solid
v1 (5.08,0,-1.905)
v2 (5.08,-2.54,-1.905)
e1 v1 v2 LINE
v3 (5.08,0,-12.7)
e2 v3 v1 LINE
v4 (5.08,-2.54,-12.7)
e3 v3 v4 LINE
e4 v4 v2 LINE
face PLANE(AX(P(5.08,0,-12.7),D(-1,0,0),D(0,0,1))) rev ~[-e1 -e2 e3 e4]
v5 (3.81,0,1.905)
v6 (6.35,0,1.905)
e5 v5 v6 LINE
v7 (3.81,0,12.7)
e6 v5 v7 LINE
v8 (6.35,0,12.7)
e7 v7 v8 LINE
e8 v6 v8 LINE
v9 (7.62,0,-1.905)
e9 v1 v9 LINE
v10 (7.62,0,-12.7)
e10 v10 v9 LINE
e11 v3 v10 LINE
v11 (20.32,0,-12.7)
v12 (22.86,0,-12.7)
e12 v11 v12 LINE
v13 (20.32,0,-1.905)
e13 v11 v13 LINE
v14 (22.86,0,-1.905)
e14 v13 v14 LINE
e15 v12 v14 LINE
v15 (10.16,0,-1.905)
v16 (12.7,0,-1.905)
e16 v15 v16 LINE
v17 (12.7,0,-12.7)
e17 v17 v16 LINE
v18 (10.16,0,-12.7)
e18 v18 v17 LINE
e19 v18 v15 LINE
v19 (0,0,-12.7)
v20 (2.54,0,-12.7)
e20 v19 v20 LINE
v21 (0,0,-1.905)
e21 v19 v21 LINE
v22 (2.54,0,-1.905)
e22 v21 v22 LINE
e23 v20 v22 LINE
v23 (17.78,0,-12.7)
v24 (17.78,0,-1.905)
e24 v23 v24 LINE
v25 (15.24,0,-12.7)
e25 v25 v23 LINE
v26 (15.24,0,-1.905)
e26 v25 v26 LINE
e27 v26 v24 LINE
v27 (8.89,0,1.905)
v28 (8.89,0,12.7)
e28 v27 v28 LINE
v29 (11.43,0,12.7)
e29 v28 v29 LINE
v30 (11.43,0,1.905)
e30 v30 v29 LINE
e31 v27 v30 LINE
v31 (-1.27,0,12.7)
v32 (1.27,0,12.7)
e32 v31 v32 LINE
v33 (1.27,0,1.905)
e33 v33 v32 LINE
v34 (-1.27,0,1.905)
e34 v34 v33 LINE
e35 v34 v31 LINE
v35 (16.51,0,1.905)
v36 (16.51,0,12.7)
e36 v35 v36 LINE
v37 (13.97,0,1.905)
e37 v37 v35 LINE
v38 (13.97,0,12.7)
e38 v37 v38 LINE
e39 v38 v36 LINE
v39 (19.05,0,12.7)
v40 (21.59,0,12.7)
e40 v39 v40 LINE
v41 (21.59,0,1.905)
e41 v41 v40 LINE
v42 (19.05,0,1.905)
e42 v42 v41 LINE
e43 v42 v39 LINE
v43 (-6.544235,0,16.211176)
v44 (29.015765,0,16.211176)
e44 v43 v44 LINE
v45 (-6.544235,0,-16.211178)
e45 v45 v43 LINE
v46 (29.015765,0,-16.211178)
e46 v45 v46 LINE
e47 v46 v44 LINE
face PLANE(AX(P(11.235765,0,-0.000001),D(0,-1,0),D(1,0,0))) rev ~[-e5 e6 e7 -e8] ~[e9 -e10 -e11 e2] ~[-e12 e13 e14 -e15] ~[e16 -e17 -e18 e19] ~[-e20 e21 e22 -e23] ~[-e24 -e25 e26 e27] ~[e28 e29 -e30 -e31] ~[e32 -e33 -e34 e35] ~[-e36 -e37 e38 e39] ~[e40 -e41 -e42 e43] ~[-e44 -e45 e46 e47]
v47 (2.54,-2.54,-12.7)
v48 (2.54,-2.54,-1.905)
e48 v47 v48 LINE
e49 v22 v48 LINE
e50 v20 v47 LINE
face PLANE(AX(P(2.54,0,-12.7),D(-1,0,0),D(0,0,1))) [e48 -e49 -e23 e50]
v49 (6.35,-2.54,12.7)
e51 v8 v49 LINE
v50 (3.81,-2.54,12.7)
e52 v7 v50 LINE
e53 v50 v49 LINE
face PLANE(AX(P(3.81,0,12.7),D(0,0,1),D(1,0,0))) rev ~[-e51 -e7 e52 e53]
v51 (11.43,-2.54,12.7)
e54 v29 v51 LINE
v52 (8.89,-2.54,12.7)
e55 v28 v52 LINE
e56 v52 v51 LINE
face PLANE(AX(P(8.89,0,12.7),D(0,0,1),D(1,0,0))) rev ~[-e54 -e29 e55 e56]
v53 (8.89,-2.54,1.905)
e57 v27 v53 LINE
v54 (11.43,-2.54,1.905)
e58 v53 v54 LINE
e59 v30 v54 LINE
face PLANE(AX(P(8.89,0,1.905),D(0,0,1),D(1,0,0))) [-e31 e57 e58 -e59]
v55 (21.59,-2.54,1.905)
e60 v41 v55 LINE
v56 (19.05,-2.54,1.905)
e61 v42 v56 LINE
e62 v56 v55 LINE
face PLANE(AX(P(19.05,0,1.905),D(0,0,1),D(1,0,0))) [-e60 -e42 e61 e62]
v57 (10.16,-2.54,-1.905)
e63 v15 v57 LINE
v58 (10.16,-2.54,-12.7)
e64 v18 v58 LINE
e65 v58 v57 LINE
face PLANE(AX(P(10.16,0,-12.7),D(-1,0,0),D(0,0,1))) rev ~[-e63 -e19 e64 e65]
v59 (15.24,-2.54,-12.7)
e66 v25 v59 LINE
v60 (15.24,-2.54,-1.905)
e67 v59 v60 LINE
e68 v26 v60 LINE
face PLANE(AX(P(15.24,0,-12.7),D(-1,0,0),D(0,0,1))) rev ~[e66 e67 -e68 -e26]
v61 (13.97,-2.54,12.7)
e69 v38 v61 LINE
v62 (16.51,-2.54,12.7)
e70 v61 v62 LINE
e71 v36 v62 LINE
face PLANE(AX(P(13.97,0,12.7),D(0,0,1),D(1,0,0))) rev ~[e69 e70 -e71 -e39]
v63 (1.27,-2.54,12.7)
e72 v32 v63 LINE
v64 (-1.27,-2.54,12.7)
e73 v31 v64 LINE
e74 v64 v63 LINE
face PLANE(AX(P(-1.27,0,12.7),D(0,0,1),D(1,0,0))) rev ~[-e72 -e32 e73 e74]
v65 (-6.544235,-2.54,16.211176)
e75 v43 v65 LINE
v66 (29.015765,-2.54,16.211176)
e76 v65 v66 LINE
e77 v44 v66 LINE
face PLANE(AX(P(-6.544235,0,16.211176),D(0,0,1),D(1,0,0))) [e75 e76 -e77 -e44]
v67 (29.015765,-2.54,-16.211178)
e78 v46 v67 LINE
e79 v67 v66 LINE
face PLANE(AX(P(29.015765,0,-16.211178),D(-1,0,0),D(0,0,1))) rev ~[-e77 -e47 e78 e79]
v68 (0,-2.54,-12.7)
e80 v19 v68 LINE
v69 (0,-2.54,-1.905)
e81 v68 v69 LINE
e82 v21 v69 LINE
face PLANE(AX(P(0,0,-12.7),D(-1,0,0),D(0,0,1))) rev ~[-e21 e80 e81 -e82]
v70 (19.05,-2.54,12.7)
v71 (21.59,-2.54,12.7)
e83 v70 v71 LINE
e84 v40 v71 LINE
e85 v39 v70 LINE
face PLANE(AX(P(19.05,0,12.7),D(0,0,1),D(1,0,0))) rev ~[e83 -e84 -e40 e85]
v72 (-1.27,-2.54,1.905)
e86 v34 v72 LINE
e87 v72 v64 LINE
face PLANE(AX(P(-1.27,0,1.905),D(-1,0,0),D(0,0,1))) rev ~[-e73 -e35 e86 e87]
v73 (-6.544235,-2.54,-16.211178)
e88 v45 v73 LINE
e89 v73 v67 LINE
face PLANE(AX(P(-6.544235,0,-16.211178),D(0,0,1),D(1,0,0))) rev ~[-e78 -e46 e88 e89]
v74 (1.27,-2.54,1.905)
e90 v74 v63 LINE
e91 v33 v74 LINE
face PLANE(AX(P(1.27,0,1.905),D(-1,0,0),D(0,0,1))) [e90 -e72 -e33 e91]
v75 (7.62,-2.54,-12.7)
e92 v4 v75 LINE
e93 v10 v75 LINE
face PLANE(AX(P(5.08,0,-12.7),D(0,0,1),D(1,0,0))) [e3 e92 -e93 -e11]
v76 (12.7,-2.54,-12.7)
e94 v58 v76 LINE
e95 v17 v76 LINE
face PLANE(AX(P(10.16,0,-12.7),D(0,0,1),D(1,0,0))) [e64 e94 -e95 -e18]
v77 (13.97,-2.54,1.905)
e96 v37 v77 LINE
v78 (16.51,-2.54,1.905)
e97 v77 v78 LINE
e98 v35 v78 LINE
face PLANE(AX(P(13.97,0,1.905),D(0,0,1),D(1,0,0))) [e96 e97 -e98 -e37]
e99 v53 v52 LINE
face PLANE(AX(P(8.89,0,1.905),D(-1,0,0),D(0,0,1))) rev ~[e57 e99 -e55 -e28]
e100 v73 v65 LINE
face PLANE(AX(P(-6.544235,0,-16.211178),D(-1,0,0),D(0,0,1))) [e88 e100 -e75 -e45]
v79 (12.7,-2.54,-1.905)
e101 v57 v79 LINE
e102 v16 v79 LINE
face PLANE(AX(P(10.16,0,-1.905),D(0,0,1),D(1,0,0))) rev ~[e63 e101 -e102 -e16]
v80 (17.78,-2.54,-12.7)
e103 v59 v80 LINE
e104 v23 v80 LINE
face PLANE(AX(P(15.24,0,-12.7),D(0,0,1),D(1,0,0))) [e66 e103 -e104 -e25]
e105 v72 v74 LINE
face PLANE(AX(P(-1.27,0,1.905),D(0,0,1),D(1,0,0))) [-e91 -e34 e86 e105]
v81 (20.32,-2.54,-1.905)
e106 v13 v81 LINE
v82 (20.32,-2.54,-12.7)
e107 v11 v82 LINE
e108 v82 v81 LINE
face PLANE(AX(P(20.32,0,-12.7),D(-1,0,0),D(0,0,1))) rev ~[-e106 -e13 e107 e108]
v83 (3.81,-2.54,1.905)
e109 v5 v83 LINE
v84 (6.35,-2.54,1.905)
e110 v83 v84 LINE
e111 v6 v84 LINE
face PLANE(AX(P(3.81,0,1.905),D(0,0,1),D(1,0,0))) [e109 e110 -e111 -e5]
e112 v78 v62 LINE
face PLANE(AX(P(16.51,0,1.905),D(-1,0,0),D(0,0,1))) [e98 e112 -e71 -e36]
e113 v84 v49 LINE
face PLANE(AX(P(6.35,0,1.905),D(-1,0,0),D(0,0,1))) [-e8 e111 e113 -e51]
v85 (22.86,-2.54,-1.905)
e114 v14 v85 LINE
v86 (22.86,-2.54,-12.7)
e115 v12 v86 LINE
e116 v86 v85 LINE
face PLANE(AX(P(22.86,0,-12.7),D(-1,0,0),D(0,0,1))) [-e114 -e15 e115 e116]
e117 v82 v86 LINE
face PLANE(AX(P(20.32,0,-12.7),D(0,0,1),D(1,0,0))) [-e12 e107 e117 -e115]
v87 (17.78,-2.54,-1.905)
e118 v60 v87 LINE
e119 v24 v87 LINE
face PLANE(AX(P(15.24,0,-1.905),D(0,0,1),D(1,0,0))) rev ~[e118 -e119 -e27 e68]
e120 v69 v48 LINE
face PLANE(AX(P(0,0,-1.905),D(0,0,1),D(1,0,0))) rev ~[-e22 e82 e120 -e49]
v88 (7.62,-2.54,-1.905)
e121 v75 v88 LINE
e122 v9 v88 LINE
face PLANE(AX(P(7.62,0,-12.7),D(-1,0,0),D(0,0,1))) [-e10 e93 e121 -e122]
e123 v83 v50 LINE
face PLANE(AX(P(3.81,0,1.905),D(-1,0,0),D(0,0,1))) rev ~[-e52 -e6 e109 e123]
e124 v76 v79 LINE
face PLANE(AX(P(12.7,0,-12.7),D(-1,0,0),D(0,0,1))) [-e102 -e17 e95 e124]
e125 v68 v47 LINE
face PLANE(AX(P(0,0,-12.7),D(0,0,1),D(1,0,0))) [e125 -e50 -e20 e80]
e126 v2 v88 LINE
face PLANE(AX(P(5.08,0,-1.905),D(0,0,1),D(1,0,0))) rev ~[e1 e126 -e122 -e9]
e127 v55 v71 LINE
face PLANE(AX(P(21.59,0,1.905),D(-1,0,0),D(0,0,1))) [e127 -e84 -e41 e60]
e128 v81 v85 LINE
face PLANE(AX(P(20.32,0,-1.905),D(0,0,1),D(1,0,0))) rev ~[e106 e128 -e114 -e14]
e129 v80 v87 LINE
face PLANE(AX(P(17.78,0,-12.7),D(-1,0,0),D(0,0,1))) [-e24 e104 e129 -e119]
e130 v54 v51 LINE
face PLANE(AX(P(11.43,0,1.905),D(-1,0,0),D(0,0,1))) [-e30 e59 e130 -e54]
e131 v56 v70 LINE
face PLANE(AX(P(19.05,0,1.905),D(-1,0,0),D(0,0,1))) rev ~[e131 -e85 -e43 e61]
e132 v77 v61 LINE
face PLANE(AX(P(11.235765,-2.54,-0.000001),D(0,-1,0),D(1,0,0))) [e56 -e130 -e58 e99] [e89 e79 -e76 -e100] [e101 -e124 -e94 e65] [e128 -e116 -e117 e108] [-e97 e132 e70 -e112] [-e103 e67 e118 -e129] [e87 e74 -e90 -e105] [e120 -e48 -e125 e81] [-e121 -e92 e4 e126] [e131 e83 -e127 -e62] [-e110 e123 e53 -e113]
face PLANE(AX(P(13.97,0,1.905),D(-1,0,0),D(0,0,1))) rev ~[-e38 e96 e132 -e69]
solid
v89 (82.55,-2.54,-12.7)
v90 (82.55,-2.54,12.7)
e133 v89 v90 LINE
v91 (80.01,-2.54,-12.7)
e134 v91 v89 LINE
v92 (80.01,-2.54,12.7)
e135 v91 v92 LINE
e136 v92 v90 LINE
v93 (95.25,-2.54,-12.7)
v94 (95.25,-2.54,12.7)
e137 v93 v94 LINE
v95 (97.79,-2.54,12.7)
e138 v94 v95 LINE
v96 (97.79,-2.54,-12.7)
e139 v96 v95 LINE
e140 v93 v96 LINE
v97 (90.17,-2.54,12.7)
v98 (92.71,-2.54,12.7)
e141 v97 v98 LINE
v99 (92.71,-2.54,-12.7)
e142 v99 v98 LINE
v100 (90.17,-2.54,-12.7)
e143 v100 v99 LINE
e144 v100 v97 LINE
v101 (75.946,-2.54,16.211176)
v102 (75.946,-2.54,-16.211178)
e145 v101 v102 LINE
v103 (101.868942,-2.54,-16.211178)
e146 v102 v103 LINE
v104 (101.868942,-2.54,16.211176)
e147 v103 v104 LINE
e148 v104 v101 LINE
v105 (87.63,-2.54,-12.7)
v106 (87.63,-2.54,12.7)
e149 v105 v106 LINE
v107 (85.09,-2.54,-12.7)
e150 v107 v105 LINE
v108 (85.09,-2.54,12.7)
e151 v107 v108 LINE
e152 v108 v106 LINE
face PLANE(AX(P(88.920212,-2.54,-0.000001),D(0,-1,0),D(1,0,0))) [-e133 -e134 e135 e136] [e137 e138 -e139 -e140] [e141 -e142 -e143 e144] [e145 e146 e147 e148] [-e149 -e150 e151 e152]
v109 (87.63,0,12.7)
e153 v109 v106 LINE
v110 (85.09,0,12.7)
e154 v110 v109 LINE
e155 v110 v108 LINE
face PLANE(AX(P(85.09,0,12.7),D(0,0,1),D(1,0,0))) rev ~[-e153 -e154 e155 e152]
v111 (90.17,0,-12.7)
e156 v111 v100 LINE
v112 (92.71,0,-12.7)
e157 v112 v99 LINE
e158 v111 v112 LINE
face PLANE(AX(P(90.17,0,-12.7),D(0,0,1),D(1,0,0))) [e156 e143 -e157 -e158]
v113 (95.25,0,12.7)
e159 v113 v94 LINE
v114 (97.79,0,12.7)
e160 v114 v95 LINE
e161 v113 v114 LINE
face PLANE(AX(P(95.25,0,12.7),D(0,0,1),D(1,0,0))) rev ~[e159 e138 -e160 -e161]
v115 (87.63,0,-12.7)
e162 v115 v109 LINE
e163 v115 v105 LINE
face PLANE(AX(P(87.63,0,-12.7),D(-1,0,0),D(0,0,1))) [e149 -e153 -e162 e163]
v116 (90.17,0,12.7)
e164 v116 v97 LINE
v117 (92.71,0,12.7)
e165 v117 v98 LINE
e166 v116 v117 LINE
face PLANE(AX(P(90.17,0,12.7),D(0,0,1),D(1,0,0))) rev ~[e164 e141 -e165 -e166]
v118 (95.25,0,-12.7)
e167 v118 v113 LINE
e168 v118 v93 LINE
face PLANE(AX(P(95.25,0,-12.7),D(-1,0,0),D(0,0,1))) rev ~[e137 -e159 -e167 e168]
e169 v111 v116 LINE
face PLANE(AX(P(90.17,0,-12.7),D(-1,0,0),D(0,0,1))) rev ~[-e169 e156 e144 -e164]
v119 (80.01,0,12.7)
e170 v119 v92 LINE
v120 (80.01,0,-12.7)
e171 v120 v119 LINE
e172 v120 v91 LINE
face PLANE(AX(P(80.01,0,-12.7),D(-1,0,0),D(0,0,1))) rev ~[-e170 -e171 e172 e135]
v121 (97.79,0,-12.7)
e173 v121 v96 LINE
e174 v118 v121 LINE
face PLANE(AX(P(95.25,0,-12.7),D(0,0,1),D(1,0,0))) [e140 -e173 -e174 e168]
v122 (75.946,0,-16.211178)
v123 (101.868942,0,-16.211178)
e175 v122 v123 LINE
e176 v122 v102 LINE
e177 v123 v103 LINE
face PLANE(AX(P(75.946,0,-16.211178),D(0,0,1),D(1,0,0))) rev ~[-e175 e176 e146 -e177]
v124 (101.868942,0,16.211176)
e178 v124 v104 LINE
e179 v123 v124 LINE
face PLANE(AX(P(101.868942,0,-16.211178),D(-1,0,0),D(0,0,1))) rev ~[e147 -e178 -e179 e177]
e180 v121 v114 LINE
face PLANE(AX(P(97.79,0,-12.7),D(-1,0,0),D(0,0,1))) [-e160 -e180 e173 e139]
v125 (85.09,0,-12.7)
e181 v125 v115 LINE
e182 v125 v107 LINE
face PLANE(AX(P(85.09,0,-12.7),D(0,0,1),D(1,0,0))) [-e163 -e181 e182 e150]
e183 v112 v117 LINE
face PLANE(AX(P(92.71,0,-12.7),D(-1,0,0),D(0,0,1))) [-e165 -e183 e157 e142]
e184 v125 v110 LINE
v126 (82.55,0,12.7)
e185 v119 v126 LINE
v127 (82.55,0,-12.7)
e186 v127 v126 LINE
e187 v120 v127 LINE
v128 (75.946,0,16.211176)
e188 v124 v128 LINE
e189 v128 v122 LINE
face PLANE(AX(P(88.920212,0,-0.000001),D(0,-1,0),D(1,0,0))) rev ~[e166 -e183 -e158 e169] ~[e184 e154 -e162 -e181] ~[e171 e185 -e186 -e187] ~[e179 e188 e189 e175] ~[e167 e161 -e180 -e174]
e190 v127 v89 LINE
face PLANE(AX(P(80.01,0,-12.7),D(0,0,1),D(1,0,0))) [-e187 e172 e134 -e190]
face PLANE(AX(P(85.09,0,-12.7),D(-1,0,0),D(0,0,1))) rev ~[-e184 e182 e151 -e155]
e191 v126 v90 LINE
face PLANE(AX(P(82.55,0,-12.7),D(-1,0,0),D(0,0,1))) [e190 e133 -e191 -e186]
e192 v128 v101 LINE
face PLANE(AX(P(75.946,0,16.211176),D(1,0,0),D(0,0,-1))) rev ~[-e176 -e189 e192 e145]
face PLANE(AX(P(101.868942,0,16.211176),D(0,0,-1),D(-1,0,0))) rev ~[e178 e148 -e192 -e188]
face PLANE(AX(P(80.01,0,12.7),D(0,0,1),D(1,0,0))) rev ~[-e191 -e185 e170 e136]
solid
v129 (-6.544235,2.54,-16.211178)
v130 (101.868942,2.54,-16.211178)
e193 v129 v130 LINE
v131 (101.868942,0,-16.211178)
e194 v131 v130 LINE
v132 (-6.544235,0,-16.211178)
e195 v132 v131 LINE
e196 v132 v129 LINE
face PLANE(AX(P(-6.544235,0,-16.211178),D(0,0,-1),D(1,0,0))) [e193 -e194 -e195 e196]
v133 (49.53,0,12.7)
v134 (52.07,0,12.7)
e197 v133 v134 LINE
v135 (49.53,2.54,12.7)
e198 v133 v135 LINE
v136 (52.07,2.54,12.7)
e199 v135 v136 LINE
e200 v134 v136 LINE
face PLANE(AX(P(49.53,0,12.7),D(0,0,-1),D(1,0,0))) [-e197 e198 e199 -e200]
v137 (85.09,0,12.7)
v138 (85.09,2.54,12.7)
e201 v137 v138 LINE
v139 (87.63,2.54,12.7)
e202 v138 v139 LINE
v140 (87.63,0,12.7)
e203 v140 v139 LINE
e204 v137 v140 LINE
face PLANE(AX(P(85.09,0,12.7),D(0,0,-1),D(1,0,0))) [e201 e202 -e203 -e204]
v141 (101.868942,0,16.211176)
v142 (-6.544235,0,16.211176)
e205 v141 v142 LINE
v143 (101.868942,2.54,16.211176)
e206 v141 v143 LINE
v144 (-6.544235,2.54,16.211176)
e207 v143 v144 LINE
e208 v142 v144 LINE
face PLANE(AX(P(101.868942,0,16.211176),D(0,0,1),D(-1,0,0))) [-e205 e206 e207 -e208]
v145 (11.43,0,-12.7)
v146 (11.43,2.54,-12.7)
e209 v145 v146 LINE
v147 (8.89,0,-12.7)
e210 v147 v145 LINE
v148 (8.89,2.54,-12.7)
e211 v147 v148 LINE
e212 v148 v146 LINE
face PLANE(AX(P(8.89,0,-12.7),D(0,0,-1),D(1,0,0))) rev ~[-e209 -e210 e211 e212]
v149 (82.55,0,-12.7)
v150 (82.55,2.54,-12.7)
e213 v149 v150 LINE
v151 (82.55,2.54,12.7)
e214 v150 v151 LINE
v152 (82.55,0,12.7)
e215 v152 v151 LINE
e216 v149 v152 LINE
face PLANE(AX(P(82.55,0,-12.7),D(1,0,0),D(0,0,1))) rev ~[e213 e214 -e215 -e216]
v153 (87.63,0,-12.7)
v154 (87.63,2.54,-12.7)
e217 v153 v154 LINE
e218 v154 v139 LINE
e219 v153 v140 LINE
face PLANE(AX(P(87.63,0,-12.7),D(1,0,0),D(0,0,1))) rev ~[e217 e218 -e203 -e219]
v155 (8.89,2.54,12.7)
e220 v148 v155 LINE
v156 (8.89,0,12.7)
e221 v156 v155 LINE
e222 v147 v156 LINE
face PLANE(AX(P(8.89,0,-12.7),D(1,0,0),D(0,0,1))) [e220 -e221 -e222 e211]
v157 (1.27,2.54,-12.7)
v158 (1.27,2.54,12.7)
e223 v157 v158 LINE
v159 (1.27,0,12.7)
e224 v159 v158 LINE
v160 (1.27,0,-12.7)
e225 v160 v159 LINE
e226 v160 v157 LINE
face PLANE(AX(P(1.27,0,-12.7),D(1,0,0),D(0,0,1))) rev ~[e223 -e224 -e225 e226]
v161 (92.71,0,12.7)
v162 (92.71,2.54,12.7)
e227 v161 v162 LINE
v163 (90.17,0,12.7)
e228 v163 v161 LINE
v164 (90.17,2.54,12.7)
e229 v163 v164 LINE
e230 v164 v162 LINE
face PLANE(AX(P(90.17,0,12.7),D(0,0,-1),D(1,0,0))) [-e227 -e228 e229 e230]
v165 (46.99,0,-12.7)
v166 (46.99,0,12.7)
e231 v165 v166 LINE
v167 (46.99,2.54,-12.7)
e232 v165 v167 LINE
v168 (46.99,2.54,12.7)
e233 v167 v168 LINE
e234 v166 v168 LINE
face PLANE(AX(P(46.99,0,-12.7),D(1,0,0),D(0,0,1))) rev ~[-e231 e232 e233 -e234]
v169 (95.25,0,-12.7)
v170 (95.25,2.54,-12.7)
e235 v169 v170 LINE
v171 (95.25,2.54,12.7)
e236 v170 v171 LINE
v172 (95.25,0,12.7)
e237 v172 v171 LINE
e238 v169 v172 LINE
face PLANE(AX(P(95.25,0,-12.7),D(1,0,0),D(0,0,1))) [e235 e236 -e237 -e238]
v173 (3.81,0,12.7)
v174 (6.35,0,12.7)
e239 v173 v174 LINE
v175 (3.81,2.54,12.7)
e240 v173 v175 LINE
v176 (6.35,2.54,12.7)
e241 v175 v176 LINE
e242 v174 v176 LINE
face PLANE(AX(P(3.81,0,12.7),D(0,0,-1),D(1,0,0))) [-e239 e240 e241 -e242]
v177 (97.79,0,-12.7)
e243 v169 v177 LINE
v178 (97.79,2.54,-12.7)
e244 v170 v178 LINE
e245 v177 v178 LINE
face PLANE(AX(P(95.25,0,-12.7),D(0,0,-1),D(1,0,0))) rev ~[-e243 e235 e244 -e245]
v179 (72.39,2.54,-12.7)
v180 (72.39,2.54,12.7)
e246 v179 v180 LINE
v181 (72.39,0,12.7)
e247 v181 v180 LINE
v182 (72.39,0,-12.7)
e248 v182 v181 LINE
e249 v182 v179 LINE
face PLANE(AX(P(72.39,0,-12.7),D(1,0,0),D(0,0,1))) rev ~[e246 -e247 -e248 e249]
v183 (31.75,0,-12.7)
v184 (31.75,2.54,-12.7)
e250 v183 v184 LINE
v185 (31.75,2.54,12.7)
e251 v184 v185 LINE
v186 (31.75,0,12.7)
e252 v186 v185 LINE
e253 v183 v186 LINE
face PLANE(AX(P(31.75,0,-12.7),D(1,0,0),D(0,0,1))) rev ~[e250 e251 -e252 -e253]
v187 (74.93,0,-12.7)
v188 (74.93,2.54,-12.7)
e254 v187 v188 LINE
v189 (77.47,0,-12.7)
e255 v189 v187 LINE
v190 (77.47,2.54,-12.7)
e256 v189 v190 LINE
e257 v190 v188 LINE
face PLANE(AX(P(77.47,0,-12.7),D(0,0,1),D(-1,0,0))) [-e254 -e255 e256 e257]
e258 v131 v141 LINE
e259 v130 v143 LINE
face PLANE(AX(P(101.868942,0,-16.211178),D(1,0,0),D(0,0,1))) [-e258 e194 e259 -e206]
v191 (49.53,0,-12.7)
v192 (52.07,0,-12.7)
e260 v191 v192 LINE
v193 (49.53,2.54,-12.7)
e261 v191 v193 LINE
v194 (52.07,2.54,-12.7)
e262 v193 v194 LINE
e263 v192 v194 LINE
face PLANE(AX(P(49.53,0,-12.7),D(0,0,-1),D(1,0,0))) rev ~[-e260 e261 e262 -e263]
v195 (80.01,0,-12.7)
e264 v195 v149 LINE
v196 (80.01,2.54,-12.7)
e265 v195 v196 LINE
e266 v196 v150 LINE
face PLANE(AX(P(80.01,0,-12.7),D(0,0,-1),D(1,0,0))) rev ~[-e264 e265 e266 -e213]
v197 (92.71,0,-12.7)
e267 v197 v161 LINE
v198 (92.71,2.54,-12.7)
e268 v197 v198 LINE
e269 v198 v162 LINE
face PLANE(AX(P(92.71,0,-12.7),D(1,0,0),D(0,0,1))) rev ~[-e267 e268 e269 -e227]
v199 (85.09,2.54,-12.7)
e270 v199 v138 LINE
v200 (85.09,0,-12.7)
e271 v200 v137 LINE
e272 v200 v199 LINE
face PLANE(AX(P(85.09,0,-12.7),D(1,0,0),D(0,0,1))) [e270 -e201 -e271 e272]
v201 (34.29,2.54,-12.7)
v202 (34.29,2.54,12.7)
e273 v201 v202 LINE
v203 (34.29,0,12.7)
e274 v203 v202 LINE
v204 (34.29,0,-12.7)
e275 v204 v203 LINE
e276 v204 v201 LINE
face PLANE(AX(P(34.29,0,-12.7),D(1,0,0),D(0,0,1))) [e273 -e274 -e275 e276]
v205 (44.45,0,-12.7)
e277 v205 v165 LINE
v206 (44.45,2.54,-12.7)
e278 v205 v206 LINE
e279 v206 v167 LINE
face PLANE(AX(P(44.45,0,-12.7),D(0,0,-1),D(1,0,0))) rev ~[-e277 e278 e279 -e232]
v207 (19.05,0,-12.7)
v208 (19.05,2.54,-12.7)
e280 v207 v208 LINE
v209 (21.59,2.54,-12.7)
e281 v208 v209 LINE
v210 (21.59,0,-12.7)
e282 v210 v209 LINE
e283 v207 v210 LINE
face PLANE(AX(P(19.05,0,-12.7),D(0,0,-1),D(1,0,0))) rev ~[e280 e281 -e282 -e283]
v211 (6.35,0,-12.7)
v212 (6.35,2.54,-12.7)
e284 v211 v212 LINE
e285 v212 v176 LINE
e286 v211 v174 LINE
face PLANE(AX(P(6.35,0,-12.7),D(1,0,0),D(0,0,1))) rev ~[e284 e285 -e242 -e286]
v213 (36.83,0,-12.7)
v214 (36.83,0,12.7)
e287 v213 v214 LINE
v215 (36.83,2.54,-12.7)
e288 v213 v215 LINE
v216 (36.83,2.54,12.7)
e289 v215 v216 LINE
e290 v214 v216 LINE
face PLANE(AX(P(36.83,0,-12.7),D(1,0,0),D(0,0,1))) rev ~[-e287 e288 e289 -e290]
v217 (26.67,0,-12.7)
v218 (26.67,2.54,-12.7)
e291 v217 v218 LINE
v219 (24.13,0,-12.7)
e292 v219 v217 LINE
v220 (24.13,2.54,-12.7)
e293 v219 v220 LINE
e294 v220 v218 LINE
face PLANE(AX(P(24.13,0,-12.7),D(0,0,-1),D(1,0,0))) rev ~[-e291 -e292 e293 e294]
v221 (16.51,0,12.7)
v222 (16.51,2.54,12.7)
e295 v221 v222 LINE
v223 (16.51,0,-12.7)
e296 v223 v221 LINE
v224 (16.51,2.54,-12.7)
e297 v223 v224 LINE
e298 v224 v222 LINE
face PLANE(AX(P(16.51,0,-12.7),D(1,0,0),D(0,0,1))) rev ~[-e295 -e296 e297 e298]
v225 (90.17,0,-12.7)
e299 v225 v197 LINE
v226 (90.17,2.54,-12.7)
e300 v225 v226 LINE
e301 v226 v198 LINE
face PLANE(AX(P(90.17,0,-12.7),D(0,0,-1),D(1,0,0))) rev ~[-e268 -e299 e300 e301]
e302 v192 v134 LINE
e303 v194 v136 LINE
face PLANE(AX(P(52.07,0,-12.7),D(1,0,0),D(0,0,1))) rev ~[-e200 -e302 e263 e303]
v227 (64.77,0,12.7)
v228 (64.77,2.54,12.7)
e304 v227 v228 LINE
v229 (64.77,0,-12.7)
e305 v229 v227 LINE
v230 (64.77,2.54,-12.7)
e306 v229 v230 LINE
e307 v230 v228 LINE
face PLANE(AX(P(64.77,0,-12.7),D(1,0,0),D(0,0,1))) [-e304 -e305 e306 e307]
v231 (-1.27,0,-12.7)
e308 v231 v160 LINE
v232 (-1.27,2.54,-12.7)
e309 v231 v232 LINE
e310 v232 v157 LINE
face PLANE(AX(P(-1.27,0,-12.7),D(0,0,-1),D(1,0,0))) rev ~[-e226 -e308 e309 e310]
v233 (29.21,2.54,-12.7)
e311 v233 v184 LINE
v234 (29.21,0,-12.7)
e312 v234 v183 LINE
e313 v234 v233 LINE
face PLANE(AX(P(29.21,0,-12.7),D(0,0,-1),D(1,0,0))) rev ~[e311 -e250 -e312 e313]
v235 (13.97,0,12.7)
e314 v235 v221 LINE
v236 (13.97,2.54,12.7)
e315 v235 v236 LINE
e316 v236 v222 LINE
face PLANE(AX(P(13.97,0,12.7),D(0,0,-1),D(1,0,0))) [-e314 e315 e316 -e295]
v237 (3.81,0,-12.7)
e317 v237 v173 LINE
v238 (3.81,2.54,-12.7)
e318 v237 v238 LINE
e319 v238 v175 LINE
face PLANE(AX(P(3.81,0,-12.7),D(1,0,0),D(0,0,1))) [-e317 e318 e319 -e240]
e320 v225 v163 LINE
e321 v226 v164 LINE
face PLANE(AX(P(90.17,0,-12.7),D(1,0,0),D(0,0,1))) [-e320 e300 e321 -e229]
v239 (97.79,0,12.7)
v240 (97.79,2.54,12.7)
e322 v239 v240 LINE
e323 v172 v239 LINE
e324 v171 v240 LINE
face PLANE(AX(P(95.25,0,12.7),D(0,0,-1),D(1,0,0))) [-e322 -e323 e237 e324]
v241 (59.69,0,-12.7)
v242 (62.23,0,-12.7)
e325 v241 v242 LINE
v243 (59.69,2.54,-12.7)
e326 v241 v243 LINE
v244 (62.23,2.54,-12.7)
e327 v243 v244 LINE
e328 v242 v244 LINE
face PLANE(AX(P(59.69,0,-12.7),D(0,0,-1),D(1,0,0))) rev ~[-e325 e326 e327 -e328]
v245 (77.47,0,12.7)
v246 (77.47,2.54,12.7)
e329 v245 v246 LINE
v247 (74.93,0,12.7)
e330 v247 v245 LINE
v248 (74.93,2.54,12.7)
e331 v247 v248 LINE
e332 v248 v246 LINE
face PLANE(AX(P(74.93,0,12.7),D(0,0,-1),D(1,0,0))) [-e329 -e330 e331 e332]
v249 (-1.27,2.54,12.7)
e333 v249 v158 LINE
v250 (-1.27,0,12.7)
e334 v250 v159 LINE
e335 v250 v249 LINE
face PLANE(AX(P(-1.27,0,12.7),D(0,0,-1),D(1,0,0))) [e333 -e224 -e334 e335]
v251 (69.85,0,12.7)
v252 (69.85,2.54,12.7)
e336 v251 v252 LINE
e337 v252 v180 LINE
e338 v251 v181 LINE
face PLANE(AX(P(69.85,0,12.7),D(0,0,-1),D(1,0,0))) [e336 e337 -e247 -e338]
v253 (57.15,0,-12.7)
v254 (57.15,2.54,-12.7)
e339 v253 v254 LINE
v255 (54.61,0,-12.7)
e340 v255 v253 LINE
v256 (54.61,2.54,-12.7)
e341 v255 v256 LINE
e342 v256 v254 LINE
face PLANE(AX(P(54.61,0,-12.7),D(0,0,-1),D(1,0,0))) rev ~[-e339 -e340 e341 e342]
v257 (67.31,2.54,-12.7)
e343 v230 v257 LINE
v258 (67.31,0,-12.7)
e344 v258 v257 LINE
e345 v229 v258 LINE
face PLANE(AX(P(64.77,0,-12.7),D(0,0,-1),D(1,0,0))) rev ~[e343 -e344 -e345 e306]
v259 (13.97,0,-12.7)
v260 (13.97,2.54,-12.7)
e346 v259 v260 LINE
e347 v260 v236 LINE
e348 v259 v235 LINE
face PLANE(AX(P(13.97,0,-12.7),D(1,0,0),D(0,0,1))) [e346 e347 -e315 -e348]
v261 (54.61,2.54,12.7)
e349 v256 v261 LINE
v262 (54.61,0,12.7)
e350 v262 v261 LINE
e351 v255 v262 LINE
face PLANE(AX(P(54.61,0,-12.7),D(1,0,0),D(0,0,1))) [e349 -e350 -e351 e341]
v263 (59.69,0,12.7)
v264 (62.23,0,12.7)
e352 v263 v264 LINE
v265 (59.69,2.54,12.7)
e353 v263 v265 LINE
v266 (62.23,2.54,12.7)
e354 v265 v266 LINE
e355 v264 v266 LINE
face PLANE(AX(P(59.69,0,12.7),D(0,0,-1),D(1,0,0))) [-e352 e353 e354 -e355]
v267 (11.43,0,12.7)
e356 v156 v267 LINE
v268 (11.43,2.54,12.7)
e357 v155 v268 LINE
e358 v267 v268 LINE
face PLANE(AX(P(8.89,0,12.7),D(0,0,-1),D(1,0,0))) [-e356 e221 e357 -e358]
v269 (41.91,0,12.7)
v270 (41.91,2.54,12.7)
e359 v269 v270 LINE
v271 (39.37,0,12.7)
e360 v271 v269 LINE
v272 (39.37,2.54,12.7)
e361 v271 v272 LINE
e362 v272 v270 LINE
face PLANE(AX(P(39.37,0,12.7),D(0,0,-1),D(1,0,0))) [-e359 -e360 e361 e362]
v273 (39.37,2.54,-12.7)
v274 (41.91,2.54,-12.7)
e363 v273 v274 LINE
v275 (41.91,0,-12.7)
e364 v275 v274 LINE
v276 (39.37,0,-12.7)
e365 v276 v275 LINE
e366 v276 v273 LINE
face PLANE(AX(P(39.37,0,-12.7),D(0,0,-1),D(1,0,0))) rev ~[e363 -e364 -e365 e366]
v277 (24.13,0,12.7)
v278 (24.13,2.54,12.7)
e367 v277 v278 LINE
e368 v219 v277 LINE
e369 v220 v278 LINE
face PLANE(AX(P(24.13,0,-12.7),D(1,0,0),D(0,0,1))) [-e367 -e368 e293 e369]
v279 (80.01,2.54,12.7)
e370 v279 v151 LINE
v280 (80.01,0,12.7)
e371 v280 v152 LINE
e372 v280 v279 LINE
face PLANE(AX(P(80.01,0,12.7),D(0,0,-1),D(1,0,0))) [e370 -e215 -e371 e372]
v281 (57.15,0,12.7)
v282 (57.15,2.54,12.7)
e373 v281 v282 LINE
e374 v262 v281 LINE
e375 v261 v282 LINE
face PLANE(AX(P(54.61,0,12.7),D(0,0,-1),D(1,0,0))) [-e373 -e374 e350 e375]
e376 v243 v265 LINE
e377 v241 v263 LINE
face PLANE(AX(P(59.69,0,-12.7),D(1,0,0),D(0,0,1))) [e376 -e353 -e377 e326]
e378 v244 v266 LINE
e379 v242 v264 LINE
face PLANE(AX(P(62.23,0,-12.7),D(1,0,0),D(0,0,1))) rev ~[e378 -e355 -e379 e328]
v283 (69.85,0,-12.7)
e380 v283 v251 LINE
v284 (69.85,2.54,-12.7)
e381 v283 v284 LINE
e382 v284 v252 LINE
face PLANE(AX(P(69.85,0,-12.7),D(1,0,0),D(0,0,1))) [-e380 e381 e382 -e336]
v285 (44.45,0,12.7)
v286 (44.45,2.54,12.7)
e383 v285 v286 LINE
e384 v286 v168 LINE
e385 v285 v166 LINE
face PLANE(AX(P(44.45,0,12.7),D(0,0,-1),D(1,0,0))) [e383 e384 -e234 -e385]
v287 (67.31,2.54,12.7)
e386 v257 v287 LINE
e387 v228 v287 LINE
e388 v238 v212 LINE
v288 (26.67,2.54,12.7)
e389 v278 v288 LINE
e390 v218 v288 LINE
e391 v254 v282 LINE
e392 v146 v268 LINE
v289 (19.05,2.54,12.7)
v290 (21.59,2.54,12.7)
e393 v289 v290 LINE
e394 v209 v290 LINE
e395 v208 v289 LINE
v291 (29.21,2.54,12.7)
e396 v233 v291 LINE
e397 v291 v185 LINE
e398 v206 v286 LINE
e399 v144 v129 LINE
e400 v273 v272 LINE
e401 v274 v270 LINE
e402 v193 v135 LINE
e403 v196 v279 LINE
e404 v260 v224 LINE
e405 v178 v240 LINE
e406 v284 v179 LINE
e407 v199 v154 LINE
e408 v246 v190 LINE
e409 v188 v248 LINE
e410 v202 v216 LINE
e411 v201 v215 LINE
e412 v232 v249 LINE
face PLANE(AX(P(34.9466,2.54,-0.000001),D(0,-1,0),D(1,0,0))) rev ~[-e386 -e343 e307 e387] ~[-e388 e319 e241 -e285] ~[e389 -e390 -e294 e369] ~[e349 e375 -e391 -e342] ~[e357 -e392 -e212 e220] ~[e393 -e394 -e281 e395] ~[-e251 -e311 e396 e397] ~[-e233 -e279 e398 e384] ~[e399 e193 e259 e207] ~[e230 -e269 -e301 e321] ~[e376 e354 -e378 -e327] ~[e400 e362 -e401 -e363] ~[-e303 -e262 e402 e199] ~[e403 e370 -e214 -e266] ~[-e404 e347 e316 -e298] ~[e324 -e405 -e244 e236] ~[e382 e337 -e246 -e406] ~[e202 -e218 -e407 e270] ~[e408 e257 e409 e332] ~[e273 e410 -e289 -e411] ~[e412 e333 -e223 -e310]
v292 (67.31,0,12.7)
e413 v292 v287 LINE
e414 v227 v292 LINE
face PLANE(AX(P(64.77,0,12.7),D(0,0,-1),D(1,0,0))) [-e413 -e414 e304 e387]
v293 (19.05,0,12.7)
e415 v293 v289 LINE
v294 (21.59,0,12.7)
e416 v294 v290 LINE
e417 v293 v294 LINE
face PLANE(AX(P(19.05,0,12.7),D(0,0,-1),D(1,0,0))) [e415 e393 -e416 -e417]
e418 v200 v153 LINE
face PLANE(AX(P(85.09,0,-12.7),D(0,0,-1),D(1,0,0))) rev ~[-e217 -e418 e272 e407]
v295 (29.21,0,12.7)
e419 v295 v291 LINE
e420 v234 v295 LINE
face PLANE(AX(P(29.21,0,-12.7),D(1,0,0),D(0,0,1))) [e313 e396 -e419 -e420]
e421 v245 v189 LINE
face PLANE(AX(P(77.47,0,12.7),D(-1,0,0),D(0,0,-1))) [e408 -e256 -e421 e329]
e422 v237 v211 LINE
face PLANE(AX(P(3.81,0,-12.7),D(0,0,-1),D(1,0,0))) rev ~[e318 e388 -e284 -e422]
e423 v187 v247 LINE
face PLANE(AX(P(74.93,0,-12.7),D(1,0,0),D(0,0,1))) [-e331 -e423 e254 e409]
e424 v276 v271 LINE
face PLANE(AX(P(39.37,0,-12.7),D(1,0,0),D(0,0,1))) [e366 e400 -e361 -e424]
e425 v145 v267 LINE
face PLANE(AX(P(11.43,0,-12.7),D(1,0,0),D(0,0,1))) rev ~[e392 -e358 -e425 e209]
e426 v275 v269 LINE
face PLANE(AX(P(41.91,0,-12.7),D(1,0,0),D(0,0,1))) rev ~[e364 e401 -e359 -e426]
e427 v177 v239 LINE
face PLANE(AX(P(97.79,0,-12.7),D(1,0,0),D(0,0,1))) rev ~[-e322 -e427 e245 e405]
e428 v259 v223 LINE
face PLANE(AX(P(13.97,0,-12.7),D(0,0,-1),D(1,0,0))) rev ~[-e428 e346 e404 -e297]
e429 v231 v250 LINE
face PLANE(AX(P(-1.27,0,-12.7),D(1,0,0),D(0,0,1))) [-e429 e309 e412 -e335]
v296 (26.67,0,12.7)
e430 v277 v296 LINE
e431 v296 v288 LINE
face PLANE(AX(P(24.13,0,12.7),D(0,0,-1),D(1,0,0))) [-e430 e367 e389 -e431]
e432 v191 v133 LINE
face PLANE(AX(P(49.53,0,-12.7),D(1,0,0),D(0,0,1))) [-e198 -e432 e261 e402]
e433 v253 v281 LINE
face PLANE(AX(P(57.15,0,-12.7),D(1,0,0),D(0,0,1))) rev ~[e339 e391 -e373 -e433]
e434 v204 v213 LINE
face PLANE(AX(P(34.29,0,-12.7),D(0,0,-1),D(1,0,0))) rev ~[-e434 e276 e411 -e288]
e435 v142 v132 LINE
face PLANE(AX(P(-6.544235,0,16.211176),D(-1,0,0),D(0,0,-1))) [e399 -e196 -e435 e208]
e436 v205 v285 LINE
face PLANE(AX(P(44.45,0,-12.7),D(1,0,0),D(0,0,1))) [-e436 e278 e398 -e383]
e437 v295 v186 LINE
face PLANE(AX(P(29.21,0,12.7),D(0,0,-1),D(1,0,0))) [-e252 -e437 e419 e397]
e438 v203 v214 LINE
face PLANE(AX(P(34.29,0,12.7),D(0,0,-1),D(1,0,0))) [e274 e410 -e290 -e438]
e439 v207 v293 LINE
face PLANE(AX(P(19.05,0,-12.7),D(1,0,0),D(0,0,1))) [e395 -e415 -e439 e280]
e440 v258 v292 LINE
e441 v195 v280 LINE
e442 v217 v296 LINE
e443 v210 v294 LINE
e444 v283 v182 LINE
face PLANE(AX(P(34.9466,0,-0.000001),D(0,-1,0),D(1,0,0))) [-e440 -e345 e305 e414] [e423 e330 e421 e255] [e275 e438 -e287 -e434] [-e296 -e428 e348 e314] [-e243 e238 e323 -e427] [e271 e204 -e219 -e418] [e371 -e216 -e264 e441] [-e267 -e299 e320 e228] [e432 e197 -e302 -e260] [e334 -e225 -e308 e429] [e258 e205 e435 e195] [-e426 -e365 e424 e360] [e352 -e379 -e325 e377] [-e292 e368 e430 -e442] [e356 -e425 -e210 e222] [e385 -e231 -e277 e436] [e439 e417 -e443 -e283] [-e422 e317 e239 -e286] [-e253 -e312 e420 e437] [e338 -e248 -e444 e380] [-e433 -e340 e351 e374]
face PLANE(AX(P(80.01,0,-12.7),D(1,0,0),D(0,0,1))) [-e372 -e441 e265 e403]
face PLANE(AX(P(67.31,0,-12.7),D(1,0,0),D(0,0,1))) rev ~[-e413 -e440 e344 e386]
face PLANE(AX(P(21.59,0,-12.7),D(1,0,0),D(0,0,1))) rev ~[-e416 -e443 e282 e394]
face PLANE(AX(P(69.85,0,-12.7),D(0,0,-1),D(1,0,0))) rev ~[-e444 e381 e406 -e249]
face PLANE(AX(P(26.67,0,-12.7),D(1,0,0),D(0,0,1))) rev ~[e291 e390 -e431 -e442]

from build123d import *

# Parameters (mm, degrees)
F0_W     = 2.54
F0_H     = 25.4
F1_DEPTH = 2.54
F0_W_2   = 1.524
F2_DEPTH = 2.54
F3_W     = 35.56
F3_H     = 32.422354
F3_W_2   = 2.54
F3_H_2   = 10.795
F4_DEPTH = 2.54


with BuildPart() as f1:
    # F0 (on Front) → F1 (new body)
    with BuildSketch(Plane.XZ):
        Polygon((74.93, 12.7), (75.946, 12.7), (75.946, 16.211176), (-6.544235, 16.211176), (-6.544235, -16.211178), (75.946, -16.211178), (75.946, -12.7), (74.93, -12.7), align=None)
        Rectangle(F0_W, F0_H, mode=Mode.SUBTRACT)
        with Locations((5.08, 0)):
            Rectangle(F0_W, F0_H, mode=Mode.SUBTRACT)
        with Locations((10.16, 0)):
            Rectangle(F0_W, F0_H, mode=Mode.SUBTRACT)
        with Locations((15.24, 0)):
            Rectangle(F0_W, F0_H, mode=Mode.SUBTRACT)
        with Locations((20.32, 0)):
            Rectangle(F0_W, F0_H, mode=Mode.SUBTRACT)
        with Locations((25.4, 0)):
            Rectangle(F0_W, F0_H, mode=Mode.SUBTRACT)
        with Locations((30.48, 0)):
            Rectangle(F0_W, F0_H, mode=Mode.SUBTRACT)
        with Locations((35.56, 0)):
            Rectangle(F0_W, F0_H, mode=Mode.SUBTRACT)
        with Locations((40.64, 0)):
            Rectangle(F0_W, F0_H, mode=Mode.SUBTRACT)
        with Locations((45.72, 0)):
            Rectangle(F0_W, F0_H, mode=Mode.SUBTRACT)
        with Locations((50.8, 0)):
            Rectangle(F0_W, F0_H, mode=Mode.SUBTRACT)
        with Locations((55.88, 0)):
            Rectangle(F0_W, F0_H, mode=Mode.SUBTRACT)
        with Locations((60.96, 0)):
            Rectangle(F0_W, F0_H, mode=Mode.SUBTRACT)
        with Locations((66.04, 0)):
            Rectangle(F0_W, F0_H, mode=Mode.SUBTRACT)
        with Locations((71.12, 0)):
            Rectangle(F0_W, F0_H, mode=Mode.SUBTRACT)
        Polygon((75.946, 12.7), (77.47, 12.7), (77.47, -12.7), (75.946, -12.7), (75.946, -16.211178), (101.868942, -16.211178), (101.868942, 16.211176), (75.946, 16.211176), align=None)
        with Locations((81.28, 0)):
            Rectangle(F0_W, F0_H, mode=Mode.SUBTRACT)
        with Locations((86.36, 0)):
            Rectangle(F0_W, F0_H, mode=Mode.SUBTRACT)
        with Locations((91.44, 0)):
            Rectangle(F0_W, F0_H, mode=Mode.SUBTRACT)
        with Locations((96.52, 0)):
            Rectangle(F0_W, F0_H, mode=Mode.SUBTRACT)
    extrude(amount=-F1_DEPTH)


with BuildPart() as f2:
    # F0 (on Front) → F2 (new body)
    with BuildSketch(Plane.XZ):
        Polygon((75.946, 12.7), (77.47, 12.7), (77.47, -12.7), (75.946, -12.7), (75.946, -16.211178), (101.868942, -16.211178), (101.868942, 16.211176), (75.946, 16.211176), align=None)
        with Locations((81.28, 0)):
            Rectangle(F0_W, F0_H, mode=Mode.SUBTRACT)
        with Locations((86.36, 0)):
            Rectangle(F0_W, F0_H, mode=Mode.SUBTRACT)
        with Locations((91.44, 0)):
            Rectangle(F0_W, F0_H, mode=Mode.SUBTRACT)
        with Locations((96.52, 0)):
            Rectangle(F0_W, F0_H, mode=Mode.SUBTRACT)
        with Locations((76.708, 0)):
            Rectangle(F0_W_2, F0_H)
    extrude(amount=F2_DEPTH)


with BuildPart() as f4:
    # F3 (on Front) → F4 (new body)
    with BuildSketch(Plane.XZ):
        with Locations((11.235765, -1e-06)):
            Rectangle(F3_W, F3_H)
        with Locations((1.27, -7.3025)):
            Rectangle(F3_W_2, F3_H_2, mode=Mode.SUBTRACT)
        with Locations((6.35, -7.3025)):
            Rectangle(F3_W_2, F3_H_2, mode=Mode.SUBTRACT)
        with Locations((11.43, -7.3025)):
            Rectangle(F3_W_2, F3_H_2, mode=Mode.SUBTRACT)
        with Locations((16.51, -7.3025)):
            Rectangle(F3_W_2, F3_H_2, mode=Mode.SUBTRACT)
        with Locations((21.59, -7.3025)):
            Rectangle(F3_W_2, F3_H_2, mode=Mode.SUBTRACT)
        with Locations((0, 7.3025)):
            Rectangle(F3_W_2, F3_H_2, mode=Mode.SUBTRACT)
        with Locations((5.08, 7.3025)):
            Rectangle(F3_W_2, F3_H_2, mode=Mode.SUBTRACT)
        with Locations((10.16, 7.3025)):
            Rectangle(F3_W_2, F3_H_2, mode=Mode.SUBTRACT)
        with Locations((15.24, 7.3025)):
            Rectangle(F3_W_2, F3_H_2, mode=Mode.SUBTRACT)
        with Locations((20.32, 7.3025)):
            Rectangle(F3_W_2, F3_H_2, mode=Mode.SUBTRACT)
    extrude(amount=F4_DEPTH)


solid = Compound([f1.part, f2.part, f4.part])
